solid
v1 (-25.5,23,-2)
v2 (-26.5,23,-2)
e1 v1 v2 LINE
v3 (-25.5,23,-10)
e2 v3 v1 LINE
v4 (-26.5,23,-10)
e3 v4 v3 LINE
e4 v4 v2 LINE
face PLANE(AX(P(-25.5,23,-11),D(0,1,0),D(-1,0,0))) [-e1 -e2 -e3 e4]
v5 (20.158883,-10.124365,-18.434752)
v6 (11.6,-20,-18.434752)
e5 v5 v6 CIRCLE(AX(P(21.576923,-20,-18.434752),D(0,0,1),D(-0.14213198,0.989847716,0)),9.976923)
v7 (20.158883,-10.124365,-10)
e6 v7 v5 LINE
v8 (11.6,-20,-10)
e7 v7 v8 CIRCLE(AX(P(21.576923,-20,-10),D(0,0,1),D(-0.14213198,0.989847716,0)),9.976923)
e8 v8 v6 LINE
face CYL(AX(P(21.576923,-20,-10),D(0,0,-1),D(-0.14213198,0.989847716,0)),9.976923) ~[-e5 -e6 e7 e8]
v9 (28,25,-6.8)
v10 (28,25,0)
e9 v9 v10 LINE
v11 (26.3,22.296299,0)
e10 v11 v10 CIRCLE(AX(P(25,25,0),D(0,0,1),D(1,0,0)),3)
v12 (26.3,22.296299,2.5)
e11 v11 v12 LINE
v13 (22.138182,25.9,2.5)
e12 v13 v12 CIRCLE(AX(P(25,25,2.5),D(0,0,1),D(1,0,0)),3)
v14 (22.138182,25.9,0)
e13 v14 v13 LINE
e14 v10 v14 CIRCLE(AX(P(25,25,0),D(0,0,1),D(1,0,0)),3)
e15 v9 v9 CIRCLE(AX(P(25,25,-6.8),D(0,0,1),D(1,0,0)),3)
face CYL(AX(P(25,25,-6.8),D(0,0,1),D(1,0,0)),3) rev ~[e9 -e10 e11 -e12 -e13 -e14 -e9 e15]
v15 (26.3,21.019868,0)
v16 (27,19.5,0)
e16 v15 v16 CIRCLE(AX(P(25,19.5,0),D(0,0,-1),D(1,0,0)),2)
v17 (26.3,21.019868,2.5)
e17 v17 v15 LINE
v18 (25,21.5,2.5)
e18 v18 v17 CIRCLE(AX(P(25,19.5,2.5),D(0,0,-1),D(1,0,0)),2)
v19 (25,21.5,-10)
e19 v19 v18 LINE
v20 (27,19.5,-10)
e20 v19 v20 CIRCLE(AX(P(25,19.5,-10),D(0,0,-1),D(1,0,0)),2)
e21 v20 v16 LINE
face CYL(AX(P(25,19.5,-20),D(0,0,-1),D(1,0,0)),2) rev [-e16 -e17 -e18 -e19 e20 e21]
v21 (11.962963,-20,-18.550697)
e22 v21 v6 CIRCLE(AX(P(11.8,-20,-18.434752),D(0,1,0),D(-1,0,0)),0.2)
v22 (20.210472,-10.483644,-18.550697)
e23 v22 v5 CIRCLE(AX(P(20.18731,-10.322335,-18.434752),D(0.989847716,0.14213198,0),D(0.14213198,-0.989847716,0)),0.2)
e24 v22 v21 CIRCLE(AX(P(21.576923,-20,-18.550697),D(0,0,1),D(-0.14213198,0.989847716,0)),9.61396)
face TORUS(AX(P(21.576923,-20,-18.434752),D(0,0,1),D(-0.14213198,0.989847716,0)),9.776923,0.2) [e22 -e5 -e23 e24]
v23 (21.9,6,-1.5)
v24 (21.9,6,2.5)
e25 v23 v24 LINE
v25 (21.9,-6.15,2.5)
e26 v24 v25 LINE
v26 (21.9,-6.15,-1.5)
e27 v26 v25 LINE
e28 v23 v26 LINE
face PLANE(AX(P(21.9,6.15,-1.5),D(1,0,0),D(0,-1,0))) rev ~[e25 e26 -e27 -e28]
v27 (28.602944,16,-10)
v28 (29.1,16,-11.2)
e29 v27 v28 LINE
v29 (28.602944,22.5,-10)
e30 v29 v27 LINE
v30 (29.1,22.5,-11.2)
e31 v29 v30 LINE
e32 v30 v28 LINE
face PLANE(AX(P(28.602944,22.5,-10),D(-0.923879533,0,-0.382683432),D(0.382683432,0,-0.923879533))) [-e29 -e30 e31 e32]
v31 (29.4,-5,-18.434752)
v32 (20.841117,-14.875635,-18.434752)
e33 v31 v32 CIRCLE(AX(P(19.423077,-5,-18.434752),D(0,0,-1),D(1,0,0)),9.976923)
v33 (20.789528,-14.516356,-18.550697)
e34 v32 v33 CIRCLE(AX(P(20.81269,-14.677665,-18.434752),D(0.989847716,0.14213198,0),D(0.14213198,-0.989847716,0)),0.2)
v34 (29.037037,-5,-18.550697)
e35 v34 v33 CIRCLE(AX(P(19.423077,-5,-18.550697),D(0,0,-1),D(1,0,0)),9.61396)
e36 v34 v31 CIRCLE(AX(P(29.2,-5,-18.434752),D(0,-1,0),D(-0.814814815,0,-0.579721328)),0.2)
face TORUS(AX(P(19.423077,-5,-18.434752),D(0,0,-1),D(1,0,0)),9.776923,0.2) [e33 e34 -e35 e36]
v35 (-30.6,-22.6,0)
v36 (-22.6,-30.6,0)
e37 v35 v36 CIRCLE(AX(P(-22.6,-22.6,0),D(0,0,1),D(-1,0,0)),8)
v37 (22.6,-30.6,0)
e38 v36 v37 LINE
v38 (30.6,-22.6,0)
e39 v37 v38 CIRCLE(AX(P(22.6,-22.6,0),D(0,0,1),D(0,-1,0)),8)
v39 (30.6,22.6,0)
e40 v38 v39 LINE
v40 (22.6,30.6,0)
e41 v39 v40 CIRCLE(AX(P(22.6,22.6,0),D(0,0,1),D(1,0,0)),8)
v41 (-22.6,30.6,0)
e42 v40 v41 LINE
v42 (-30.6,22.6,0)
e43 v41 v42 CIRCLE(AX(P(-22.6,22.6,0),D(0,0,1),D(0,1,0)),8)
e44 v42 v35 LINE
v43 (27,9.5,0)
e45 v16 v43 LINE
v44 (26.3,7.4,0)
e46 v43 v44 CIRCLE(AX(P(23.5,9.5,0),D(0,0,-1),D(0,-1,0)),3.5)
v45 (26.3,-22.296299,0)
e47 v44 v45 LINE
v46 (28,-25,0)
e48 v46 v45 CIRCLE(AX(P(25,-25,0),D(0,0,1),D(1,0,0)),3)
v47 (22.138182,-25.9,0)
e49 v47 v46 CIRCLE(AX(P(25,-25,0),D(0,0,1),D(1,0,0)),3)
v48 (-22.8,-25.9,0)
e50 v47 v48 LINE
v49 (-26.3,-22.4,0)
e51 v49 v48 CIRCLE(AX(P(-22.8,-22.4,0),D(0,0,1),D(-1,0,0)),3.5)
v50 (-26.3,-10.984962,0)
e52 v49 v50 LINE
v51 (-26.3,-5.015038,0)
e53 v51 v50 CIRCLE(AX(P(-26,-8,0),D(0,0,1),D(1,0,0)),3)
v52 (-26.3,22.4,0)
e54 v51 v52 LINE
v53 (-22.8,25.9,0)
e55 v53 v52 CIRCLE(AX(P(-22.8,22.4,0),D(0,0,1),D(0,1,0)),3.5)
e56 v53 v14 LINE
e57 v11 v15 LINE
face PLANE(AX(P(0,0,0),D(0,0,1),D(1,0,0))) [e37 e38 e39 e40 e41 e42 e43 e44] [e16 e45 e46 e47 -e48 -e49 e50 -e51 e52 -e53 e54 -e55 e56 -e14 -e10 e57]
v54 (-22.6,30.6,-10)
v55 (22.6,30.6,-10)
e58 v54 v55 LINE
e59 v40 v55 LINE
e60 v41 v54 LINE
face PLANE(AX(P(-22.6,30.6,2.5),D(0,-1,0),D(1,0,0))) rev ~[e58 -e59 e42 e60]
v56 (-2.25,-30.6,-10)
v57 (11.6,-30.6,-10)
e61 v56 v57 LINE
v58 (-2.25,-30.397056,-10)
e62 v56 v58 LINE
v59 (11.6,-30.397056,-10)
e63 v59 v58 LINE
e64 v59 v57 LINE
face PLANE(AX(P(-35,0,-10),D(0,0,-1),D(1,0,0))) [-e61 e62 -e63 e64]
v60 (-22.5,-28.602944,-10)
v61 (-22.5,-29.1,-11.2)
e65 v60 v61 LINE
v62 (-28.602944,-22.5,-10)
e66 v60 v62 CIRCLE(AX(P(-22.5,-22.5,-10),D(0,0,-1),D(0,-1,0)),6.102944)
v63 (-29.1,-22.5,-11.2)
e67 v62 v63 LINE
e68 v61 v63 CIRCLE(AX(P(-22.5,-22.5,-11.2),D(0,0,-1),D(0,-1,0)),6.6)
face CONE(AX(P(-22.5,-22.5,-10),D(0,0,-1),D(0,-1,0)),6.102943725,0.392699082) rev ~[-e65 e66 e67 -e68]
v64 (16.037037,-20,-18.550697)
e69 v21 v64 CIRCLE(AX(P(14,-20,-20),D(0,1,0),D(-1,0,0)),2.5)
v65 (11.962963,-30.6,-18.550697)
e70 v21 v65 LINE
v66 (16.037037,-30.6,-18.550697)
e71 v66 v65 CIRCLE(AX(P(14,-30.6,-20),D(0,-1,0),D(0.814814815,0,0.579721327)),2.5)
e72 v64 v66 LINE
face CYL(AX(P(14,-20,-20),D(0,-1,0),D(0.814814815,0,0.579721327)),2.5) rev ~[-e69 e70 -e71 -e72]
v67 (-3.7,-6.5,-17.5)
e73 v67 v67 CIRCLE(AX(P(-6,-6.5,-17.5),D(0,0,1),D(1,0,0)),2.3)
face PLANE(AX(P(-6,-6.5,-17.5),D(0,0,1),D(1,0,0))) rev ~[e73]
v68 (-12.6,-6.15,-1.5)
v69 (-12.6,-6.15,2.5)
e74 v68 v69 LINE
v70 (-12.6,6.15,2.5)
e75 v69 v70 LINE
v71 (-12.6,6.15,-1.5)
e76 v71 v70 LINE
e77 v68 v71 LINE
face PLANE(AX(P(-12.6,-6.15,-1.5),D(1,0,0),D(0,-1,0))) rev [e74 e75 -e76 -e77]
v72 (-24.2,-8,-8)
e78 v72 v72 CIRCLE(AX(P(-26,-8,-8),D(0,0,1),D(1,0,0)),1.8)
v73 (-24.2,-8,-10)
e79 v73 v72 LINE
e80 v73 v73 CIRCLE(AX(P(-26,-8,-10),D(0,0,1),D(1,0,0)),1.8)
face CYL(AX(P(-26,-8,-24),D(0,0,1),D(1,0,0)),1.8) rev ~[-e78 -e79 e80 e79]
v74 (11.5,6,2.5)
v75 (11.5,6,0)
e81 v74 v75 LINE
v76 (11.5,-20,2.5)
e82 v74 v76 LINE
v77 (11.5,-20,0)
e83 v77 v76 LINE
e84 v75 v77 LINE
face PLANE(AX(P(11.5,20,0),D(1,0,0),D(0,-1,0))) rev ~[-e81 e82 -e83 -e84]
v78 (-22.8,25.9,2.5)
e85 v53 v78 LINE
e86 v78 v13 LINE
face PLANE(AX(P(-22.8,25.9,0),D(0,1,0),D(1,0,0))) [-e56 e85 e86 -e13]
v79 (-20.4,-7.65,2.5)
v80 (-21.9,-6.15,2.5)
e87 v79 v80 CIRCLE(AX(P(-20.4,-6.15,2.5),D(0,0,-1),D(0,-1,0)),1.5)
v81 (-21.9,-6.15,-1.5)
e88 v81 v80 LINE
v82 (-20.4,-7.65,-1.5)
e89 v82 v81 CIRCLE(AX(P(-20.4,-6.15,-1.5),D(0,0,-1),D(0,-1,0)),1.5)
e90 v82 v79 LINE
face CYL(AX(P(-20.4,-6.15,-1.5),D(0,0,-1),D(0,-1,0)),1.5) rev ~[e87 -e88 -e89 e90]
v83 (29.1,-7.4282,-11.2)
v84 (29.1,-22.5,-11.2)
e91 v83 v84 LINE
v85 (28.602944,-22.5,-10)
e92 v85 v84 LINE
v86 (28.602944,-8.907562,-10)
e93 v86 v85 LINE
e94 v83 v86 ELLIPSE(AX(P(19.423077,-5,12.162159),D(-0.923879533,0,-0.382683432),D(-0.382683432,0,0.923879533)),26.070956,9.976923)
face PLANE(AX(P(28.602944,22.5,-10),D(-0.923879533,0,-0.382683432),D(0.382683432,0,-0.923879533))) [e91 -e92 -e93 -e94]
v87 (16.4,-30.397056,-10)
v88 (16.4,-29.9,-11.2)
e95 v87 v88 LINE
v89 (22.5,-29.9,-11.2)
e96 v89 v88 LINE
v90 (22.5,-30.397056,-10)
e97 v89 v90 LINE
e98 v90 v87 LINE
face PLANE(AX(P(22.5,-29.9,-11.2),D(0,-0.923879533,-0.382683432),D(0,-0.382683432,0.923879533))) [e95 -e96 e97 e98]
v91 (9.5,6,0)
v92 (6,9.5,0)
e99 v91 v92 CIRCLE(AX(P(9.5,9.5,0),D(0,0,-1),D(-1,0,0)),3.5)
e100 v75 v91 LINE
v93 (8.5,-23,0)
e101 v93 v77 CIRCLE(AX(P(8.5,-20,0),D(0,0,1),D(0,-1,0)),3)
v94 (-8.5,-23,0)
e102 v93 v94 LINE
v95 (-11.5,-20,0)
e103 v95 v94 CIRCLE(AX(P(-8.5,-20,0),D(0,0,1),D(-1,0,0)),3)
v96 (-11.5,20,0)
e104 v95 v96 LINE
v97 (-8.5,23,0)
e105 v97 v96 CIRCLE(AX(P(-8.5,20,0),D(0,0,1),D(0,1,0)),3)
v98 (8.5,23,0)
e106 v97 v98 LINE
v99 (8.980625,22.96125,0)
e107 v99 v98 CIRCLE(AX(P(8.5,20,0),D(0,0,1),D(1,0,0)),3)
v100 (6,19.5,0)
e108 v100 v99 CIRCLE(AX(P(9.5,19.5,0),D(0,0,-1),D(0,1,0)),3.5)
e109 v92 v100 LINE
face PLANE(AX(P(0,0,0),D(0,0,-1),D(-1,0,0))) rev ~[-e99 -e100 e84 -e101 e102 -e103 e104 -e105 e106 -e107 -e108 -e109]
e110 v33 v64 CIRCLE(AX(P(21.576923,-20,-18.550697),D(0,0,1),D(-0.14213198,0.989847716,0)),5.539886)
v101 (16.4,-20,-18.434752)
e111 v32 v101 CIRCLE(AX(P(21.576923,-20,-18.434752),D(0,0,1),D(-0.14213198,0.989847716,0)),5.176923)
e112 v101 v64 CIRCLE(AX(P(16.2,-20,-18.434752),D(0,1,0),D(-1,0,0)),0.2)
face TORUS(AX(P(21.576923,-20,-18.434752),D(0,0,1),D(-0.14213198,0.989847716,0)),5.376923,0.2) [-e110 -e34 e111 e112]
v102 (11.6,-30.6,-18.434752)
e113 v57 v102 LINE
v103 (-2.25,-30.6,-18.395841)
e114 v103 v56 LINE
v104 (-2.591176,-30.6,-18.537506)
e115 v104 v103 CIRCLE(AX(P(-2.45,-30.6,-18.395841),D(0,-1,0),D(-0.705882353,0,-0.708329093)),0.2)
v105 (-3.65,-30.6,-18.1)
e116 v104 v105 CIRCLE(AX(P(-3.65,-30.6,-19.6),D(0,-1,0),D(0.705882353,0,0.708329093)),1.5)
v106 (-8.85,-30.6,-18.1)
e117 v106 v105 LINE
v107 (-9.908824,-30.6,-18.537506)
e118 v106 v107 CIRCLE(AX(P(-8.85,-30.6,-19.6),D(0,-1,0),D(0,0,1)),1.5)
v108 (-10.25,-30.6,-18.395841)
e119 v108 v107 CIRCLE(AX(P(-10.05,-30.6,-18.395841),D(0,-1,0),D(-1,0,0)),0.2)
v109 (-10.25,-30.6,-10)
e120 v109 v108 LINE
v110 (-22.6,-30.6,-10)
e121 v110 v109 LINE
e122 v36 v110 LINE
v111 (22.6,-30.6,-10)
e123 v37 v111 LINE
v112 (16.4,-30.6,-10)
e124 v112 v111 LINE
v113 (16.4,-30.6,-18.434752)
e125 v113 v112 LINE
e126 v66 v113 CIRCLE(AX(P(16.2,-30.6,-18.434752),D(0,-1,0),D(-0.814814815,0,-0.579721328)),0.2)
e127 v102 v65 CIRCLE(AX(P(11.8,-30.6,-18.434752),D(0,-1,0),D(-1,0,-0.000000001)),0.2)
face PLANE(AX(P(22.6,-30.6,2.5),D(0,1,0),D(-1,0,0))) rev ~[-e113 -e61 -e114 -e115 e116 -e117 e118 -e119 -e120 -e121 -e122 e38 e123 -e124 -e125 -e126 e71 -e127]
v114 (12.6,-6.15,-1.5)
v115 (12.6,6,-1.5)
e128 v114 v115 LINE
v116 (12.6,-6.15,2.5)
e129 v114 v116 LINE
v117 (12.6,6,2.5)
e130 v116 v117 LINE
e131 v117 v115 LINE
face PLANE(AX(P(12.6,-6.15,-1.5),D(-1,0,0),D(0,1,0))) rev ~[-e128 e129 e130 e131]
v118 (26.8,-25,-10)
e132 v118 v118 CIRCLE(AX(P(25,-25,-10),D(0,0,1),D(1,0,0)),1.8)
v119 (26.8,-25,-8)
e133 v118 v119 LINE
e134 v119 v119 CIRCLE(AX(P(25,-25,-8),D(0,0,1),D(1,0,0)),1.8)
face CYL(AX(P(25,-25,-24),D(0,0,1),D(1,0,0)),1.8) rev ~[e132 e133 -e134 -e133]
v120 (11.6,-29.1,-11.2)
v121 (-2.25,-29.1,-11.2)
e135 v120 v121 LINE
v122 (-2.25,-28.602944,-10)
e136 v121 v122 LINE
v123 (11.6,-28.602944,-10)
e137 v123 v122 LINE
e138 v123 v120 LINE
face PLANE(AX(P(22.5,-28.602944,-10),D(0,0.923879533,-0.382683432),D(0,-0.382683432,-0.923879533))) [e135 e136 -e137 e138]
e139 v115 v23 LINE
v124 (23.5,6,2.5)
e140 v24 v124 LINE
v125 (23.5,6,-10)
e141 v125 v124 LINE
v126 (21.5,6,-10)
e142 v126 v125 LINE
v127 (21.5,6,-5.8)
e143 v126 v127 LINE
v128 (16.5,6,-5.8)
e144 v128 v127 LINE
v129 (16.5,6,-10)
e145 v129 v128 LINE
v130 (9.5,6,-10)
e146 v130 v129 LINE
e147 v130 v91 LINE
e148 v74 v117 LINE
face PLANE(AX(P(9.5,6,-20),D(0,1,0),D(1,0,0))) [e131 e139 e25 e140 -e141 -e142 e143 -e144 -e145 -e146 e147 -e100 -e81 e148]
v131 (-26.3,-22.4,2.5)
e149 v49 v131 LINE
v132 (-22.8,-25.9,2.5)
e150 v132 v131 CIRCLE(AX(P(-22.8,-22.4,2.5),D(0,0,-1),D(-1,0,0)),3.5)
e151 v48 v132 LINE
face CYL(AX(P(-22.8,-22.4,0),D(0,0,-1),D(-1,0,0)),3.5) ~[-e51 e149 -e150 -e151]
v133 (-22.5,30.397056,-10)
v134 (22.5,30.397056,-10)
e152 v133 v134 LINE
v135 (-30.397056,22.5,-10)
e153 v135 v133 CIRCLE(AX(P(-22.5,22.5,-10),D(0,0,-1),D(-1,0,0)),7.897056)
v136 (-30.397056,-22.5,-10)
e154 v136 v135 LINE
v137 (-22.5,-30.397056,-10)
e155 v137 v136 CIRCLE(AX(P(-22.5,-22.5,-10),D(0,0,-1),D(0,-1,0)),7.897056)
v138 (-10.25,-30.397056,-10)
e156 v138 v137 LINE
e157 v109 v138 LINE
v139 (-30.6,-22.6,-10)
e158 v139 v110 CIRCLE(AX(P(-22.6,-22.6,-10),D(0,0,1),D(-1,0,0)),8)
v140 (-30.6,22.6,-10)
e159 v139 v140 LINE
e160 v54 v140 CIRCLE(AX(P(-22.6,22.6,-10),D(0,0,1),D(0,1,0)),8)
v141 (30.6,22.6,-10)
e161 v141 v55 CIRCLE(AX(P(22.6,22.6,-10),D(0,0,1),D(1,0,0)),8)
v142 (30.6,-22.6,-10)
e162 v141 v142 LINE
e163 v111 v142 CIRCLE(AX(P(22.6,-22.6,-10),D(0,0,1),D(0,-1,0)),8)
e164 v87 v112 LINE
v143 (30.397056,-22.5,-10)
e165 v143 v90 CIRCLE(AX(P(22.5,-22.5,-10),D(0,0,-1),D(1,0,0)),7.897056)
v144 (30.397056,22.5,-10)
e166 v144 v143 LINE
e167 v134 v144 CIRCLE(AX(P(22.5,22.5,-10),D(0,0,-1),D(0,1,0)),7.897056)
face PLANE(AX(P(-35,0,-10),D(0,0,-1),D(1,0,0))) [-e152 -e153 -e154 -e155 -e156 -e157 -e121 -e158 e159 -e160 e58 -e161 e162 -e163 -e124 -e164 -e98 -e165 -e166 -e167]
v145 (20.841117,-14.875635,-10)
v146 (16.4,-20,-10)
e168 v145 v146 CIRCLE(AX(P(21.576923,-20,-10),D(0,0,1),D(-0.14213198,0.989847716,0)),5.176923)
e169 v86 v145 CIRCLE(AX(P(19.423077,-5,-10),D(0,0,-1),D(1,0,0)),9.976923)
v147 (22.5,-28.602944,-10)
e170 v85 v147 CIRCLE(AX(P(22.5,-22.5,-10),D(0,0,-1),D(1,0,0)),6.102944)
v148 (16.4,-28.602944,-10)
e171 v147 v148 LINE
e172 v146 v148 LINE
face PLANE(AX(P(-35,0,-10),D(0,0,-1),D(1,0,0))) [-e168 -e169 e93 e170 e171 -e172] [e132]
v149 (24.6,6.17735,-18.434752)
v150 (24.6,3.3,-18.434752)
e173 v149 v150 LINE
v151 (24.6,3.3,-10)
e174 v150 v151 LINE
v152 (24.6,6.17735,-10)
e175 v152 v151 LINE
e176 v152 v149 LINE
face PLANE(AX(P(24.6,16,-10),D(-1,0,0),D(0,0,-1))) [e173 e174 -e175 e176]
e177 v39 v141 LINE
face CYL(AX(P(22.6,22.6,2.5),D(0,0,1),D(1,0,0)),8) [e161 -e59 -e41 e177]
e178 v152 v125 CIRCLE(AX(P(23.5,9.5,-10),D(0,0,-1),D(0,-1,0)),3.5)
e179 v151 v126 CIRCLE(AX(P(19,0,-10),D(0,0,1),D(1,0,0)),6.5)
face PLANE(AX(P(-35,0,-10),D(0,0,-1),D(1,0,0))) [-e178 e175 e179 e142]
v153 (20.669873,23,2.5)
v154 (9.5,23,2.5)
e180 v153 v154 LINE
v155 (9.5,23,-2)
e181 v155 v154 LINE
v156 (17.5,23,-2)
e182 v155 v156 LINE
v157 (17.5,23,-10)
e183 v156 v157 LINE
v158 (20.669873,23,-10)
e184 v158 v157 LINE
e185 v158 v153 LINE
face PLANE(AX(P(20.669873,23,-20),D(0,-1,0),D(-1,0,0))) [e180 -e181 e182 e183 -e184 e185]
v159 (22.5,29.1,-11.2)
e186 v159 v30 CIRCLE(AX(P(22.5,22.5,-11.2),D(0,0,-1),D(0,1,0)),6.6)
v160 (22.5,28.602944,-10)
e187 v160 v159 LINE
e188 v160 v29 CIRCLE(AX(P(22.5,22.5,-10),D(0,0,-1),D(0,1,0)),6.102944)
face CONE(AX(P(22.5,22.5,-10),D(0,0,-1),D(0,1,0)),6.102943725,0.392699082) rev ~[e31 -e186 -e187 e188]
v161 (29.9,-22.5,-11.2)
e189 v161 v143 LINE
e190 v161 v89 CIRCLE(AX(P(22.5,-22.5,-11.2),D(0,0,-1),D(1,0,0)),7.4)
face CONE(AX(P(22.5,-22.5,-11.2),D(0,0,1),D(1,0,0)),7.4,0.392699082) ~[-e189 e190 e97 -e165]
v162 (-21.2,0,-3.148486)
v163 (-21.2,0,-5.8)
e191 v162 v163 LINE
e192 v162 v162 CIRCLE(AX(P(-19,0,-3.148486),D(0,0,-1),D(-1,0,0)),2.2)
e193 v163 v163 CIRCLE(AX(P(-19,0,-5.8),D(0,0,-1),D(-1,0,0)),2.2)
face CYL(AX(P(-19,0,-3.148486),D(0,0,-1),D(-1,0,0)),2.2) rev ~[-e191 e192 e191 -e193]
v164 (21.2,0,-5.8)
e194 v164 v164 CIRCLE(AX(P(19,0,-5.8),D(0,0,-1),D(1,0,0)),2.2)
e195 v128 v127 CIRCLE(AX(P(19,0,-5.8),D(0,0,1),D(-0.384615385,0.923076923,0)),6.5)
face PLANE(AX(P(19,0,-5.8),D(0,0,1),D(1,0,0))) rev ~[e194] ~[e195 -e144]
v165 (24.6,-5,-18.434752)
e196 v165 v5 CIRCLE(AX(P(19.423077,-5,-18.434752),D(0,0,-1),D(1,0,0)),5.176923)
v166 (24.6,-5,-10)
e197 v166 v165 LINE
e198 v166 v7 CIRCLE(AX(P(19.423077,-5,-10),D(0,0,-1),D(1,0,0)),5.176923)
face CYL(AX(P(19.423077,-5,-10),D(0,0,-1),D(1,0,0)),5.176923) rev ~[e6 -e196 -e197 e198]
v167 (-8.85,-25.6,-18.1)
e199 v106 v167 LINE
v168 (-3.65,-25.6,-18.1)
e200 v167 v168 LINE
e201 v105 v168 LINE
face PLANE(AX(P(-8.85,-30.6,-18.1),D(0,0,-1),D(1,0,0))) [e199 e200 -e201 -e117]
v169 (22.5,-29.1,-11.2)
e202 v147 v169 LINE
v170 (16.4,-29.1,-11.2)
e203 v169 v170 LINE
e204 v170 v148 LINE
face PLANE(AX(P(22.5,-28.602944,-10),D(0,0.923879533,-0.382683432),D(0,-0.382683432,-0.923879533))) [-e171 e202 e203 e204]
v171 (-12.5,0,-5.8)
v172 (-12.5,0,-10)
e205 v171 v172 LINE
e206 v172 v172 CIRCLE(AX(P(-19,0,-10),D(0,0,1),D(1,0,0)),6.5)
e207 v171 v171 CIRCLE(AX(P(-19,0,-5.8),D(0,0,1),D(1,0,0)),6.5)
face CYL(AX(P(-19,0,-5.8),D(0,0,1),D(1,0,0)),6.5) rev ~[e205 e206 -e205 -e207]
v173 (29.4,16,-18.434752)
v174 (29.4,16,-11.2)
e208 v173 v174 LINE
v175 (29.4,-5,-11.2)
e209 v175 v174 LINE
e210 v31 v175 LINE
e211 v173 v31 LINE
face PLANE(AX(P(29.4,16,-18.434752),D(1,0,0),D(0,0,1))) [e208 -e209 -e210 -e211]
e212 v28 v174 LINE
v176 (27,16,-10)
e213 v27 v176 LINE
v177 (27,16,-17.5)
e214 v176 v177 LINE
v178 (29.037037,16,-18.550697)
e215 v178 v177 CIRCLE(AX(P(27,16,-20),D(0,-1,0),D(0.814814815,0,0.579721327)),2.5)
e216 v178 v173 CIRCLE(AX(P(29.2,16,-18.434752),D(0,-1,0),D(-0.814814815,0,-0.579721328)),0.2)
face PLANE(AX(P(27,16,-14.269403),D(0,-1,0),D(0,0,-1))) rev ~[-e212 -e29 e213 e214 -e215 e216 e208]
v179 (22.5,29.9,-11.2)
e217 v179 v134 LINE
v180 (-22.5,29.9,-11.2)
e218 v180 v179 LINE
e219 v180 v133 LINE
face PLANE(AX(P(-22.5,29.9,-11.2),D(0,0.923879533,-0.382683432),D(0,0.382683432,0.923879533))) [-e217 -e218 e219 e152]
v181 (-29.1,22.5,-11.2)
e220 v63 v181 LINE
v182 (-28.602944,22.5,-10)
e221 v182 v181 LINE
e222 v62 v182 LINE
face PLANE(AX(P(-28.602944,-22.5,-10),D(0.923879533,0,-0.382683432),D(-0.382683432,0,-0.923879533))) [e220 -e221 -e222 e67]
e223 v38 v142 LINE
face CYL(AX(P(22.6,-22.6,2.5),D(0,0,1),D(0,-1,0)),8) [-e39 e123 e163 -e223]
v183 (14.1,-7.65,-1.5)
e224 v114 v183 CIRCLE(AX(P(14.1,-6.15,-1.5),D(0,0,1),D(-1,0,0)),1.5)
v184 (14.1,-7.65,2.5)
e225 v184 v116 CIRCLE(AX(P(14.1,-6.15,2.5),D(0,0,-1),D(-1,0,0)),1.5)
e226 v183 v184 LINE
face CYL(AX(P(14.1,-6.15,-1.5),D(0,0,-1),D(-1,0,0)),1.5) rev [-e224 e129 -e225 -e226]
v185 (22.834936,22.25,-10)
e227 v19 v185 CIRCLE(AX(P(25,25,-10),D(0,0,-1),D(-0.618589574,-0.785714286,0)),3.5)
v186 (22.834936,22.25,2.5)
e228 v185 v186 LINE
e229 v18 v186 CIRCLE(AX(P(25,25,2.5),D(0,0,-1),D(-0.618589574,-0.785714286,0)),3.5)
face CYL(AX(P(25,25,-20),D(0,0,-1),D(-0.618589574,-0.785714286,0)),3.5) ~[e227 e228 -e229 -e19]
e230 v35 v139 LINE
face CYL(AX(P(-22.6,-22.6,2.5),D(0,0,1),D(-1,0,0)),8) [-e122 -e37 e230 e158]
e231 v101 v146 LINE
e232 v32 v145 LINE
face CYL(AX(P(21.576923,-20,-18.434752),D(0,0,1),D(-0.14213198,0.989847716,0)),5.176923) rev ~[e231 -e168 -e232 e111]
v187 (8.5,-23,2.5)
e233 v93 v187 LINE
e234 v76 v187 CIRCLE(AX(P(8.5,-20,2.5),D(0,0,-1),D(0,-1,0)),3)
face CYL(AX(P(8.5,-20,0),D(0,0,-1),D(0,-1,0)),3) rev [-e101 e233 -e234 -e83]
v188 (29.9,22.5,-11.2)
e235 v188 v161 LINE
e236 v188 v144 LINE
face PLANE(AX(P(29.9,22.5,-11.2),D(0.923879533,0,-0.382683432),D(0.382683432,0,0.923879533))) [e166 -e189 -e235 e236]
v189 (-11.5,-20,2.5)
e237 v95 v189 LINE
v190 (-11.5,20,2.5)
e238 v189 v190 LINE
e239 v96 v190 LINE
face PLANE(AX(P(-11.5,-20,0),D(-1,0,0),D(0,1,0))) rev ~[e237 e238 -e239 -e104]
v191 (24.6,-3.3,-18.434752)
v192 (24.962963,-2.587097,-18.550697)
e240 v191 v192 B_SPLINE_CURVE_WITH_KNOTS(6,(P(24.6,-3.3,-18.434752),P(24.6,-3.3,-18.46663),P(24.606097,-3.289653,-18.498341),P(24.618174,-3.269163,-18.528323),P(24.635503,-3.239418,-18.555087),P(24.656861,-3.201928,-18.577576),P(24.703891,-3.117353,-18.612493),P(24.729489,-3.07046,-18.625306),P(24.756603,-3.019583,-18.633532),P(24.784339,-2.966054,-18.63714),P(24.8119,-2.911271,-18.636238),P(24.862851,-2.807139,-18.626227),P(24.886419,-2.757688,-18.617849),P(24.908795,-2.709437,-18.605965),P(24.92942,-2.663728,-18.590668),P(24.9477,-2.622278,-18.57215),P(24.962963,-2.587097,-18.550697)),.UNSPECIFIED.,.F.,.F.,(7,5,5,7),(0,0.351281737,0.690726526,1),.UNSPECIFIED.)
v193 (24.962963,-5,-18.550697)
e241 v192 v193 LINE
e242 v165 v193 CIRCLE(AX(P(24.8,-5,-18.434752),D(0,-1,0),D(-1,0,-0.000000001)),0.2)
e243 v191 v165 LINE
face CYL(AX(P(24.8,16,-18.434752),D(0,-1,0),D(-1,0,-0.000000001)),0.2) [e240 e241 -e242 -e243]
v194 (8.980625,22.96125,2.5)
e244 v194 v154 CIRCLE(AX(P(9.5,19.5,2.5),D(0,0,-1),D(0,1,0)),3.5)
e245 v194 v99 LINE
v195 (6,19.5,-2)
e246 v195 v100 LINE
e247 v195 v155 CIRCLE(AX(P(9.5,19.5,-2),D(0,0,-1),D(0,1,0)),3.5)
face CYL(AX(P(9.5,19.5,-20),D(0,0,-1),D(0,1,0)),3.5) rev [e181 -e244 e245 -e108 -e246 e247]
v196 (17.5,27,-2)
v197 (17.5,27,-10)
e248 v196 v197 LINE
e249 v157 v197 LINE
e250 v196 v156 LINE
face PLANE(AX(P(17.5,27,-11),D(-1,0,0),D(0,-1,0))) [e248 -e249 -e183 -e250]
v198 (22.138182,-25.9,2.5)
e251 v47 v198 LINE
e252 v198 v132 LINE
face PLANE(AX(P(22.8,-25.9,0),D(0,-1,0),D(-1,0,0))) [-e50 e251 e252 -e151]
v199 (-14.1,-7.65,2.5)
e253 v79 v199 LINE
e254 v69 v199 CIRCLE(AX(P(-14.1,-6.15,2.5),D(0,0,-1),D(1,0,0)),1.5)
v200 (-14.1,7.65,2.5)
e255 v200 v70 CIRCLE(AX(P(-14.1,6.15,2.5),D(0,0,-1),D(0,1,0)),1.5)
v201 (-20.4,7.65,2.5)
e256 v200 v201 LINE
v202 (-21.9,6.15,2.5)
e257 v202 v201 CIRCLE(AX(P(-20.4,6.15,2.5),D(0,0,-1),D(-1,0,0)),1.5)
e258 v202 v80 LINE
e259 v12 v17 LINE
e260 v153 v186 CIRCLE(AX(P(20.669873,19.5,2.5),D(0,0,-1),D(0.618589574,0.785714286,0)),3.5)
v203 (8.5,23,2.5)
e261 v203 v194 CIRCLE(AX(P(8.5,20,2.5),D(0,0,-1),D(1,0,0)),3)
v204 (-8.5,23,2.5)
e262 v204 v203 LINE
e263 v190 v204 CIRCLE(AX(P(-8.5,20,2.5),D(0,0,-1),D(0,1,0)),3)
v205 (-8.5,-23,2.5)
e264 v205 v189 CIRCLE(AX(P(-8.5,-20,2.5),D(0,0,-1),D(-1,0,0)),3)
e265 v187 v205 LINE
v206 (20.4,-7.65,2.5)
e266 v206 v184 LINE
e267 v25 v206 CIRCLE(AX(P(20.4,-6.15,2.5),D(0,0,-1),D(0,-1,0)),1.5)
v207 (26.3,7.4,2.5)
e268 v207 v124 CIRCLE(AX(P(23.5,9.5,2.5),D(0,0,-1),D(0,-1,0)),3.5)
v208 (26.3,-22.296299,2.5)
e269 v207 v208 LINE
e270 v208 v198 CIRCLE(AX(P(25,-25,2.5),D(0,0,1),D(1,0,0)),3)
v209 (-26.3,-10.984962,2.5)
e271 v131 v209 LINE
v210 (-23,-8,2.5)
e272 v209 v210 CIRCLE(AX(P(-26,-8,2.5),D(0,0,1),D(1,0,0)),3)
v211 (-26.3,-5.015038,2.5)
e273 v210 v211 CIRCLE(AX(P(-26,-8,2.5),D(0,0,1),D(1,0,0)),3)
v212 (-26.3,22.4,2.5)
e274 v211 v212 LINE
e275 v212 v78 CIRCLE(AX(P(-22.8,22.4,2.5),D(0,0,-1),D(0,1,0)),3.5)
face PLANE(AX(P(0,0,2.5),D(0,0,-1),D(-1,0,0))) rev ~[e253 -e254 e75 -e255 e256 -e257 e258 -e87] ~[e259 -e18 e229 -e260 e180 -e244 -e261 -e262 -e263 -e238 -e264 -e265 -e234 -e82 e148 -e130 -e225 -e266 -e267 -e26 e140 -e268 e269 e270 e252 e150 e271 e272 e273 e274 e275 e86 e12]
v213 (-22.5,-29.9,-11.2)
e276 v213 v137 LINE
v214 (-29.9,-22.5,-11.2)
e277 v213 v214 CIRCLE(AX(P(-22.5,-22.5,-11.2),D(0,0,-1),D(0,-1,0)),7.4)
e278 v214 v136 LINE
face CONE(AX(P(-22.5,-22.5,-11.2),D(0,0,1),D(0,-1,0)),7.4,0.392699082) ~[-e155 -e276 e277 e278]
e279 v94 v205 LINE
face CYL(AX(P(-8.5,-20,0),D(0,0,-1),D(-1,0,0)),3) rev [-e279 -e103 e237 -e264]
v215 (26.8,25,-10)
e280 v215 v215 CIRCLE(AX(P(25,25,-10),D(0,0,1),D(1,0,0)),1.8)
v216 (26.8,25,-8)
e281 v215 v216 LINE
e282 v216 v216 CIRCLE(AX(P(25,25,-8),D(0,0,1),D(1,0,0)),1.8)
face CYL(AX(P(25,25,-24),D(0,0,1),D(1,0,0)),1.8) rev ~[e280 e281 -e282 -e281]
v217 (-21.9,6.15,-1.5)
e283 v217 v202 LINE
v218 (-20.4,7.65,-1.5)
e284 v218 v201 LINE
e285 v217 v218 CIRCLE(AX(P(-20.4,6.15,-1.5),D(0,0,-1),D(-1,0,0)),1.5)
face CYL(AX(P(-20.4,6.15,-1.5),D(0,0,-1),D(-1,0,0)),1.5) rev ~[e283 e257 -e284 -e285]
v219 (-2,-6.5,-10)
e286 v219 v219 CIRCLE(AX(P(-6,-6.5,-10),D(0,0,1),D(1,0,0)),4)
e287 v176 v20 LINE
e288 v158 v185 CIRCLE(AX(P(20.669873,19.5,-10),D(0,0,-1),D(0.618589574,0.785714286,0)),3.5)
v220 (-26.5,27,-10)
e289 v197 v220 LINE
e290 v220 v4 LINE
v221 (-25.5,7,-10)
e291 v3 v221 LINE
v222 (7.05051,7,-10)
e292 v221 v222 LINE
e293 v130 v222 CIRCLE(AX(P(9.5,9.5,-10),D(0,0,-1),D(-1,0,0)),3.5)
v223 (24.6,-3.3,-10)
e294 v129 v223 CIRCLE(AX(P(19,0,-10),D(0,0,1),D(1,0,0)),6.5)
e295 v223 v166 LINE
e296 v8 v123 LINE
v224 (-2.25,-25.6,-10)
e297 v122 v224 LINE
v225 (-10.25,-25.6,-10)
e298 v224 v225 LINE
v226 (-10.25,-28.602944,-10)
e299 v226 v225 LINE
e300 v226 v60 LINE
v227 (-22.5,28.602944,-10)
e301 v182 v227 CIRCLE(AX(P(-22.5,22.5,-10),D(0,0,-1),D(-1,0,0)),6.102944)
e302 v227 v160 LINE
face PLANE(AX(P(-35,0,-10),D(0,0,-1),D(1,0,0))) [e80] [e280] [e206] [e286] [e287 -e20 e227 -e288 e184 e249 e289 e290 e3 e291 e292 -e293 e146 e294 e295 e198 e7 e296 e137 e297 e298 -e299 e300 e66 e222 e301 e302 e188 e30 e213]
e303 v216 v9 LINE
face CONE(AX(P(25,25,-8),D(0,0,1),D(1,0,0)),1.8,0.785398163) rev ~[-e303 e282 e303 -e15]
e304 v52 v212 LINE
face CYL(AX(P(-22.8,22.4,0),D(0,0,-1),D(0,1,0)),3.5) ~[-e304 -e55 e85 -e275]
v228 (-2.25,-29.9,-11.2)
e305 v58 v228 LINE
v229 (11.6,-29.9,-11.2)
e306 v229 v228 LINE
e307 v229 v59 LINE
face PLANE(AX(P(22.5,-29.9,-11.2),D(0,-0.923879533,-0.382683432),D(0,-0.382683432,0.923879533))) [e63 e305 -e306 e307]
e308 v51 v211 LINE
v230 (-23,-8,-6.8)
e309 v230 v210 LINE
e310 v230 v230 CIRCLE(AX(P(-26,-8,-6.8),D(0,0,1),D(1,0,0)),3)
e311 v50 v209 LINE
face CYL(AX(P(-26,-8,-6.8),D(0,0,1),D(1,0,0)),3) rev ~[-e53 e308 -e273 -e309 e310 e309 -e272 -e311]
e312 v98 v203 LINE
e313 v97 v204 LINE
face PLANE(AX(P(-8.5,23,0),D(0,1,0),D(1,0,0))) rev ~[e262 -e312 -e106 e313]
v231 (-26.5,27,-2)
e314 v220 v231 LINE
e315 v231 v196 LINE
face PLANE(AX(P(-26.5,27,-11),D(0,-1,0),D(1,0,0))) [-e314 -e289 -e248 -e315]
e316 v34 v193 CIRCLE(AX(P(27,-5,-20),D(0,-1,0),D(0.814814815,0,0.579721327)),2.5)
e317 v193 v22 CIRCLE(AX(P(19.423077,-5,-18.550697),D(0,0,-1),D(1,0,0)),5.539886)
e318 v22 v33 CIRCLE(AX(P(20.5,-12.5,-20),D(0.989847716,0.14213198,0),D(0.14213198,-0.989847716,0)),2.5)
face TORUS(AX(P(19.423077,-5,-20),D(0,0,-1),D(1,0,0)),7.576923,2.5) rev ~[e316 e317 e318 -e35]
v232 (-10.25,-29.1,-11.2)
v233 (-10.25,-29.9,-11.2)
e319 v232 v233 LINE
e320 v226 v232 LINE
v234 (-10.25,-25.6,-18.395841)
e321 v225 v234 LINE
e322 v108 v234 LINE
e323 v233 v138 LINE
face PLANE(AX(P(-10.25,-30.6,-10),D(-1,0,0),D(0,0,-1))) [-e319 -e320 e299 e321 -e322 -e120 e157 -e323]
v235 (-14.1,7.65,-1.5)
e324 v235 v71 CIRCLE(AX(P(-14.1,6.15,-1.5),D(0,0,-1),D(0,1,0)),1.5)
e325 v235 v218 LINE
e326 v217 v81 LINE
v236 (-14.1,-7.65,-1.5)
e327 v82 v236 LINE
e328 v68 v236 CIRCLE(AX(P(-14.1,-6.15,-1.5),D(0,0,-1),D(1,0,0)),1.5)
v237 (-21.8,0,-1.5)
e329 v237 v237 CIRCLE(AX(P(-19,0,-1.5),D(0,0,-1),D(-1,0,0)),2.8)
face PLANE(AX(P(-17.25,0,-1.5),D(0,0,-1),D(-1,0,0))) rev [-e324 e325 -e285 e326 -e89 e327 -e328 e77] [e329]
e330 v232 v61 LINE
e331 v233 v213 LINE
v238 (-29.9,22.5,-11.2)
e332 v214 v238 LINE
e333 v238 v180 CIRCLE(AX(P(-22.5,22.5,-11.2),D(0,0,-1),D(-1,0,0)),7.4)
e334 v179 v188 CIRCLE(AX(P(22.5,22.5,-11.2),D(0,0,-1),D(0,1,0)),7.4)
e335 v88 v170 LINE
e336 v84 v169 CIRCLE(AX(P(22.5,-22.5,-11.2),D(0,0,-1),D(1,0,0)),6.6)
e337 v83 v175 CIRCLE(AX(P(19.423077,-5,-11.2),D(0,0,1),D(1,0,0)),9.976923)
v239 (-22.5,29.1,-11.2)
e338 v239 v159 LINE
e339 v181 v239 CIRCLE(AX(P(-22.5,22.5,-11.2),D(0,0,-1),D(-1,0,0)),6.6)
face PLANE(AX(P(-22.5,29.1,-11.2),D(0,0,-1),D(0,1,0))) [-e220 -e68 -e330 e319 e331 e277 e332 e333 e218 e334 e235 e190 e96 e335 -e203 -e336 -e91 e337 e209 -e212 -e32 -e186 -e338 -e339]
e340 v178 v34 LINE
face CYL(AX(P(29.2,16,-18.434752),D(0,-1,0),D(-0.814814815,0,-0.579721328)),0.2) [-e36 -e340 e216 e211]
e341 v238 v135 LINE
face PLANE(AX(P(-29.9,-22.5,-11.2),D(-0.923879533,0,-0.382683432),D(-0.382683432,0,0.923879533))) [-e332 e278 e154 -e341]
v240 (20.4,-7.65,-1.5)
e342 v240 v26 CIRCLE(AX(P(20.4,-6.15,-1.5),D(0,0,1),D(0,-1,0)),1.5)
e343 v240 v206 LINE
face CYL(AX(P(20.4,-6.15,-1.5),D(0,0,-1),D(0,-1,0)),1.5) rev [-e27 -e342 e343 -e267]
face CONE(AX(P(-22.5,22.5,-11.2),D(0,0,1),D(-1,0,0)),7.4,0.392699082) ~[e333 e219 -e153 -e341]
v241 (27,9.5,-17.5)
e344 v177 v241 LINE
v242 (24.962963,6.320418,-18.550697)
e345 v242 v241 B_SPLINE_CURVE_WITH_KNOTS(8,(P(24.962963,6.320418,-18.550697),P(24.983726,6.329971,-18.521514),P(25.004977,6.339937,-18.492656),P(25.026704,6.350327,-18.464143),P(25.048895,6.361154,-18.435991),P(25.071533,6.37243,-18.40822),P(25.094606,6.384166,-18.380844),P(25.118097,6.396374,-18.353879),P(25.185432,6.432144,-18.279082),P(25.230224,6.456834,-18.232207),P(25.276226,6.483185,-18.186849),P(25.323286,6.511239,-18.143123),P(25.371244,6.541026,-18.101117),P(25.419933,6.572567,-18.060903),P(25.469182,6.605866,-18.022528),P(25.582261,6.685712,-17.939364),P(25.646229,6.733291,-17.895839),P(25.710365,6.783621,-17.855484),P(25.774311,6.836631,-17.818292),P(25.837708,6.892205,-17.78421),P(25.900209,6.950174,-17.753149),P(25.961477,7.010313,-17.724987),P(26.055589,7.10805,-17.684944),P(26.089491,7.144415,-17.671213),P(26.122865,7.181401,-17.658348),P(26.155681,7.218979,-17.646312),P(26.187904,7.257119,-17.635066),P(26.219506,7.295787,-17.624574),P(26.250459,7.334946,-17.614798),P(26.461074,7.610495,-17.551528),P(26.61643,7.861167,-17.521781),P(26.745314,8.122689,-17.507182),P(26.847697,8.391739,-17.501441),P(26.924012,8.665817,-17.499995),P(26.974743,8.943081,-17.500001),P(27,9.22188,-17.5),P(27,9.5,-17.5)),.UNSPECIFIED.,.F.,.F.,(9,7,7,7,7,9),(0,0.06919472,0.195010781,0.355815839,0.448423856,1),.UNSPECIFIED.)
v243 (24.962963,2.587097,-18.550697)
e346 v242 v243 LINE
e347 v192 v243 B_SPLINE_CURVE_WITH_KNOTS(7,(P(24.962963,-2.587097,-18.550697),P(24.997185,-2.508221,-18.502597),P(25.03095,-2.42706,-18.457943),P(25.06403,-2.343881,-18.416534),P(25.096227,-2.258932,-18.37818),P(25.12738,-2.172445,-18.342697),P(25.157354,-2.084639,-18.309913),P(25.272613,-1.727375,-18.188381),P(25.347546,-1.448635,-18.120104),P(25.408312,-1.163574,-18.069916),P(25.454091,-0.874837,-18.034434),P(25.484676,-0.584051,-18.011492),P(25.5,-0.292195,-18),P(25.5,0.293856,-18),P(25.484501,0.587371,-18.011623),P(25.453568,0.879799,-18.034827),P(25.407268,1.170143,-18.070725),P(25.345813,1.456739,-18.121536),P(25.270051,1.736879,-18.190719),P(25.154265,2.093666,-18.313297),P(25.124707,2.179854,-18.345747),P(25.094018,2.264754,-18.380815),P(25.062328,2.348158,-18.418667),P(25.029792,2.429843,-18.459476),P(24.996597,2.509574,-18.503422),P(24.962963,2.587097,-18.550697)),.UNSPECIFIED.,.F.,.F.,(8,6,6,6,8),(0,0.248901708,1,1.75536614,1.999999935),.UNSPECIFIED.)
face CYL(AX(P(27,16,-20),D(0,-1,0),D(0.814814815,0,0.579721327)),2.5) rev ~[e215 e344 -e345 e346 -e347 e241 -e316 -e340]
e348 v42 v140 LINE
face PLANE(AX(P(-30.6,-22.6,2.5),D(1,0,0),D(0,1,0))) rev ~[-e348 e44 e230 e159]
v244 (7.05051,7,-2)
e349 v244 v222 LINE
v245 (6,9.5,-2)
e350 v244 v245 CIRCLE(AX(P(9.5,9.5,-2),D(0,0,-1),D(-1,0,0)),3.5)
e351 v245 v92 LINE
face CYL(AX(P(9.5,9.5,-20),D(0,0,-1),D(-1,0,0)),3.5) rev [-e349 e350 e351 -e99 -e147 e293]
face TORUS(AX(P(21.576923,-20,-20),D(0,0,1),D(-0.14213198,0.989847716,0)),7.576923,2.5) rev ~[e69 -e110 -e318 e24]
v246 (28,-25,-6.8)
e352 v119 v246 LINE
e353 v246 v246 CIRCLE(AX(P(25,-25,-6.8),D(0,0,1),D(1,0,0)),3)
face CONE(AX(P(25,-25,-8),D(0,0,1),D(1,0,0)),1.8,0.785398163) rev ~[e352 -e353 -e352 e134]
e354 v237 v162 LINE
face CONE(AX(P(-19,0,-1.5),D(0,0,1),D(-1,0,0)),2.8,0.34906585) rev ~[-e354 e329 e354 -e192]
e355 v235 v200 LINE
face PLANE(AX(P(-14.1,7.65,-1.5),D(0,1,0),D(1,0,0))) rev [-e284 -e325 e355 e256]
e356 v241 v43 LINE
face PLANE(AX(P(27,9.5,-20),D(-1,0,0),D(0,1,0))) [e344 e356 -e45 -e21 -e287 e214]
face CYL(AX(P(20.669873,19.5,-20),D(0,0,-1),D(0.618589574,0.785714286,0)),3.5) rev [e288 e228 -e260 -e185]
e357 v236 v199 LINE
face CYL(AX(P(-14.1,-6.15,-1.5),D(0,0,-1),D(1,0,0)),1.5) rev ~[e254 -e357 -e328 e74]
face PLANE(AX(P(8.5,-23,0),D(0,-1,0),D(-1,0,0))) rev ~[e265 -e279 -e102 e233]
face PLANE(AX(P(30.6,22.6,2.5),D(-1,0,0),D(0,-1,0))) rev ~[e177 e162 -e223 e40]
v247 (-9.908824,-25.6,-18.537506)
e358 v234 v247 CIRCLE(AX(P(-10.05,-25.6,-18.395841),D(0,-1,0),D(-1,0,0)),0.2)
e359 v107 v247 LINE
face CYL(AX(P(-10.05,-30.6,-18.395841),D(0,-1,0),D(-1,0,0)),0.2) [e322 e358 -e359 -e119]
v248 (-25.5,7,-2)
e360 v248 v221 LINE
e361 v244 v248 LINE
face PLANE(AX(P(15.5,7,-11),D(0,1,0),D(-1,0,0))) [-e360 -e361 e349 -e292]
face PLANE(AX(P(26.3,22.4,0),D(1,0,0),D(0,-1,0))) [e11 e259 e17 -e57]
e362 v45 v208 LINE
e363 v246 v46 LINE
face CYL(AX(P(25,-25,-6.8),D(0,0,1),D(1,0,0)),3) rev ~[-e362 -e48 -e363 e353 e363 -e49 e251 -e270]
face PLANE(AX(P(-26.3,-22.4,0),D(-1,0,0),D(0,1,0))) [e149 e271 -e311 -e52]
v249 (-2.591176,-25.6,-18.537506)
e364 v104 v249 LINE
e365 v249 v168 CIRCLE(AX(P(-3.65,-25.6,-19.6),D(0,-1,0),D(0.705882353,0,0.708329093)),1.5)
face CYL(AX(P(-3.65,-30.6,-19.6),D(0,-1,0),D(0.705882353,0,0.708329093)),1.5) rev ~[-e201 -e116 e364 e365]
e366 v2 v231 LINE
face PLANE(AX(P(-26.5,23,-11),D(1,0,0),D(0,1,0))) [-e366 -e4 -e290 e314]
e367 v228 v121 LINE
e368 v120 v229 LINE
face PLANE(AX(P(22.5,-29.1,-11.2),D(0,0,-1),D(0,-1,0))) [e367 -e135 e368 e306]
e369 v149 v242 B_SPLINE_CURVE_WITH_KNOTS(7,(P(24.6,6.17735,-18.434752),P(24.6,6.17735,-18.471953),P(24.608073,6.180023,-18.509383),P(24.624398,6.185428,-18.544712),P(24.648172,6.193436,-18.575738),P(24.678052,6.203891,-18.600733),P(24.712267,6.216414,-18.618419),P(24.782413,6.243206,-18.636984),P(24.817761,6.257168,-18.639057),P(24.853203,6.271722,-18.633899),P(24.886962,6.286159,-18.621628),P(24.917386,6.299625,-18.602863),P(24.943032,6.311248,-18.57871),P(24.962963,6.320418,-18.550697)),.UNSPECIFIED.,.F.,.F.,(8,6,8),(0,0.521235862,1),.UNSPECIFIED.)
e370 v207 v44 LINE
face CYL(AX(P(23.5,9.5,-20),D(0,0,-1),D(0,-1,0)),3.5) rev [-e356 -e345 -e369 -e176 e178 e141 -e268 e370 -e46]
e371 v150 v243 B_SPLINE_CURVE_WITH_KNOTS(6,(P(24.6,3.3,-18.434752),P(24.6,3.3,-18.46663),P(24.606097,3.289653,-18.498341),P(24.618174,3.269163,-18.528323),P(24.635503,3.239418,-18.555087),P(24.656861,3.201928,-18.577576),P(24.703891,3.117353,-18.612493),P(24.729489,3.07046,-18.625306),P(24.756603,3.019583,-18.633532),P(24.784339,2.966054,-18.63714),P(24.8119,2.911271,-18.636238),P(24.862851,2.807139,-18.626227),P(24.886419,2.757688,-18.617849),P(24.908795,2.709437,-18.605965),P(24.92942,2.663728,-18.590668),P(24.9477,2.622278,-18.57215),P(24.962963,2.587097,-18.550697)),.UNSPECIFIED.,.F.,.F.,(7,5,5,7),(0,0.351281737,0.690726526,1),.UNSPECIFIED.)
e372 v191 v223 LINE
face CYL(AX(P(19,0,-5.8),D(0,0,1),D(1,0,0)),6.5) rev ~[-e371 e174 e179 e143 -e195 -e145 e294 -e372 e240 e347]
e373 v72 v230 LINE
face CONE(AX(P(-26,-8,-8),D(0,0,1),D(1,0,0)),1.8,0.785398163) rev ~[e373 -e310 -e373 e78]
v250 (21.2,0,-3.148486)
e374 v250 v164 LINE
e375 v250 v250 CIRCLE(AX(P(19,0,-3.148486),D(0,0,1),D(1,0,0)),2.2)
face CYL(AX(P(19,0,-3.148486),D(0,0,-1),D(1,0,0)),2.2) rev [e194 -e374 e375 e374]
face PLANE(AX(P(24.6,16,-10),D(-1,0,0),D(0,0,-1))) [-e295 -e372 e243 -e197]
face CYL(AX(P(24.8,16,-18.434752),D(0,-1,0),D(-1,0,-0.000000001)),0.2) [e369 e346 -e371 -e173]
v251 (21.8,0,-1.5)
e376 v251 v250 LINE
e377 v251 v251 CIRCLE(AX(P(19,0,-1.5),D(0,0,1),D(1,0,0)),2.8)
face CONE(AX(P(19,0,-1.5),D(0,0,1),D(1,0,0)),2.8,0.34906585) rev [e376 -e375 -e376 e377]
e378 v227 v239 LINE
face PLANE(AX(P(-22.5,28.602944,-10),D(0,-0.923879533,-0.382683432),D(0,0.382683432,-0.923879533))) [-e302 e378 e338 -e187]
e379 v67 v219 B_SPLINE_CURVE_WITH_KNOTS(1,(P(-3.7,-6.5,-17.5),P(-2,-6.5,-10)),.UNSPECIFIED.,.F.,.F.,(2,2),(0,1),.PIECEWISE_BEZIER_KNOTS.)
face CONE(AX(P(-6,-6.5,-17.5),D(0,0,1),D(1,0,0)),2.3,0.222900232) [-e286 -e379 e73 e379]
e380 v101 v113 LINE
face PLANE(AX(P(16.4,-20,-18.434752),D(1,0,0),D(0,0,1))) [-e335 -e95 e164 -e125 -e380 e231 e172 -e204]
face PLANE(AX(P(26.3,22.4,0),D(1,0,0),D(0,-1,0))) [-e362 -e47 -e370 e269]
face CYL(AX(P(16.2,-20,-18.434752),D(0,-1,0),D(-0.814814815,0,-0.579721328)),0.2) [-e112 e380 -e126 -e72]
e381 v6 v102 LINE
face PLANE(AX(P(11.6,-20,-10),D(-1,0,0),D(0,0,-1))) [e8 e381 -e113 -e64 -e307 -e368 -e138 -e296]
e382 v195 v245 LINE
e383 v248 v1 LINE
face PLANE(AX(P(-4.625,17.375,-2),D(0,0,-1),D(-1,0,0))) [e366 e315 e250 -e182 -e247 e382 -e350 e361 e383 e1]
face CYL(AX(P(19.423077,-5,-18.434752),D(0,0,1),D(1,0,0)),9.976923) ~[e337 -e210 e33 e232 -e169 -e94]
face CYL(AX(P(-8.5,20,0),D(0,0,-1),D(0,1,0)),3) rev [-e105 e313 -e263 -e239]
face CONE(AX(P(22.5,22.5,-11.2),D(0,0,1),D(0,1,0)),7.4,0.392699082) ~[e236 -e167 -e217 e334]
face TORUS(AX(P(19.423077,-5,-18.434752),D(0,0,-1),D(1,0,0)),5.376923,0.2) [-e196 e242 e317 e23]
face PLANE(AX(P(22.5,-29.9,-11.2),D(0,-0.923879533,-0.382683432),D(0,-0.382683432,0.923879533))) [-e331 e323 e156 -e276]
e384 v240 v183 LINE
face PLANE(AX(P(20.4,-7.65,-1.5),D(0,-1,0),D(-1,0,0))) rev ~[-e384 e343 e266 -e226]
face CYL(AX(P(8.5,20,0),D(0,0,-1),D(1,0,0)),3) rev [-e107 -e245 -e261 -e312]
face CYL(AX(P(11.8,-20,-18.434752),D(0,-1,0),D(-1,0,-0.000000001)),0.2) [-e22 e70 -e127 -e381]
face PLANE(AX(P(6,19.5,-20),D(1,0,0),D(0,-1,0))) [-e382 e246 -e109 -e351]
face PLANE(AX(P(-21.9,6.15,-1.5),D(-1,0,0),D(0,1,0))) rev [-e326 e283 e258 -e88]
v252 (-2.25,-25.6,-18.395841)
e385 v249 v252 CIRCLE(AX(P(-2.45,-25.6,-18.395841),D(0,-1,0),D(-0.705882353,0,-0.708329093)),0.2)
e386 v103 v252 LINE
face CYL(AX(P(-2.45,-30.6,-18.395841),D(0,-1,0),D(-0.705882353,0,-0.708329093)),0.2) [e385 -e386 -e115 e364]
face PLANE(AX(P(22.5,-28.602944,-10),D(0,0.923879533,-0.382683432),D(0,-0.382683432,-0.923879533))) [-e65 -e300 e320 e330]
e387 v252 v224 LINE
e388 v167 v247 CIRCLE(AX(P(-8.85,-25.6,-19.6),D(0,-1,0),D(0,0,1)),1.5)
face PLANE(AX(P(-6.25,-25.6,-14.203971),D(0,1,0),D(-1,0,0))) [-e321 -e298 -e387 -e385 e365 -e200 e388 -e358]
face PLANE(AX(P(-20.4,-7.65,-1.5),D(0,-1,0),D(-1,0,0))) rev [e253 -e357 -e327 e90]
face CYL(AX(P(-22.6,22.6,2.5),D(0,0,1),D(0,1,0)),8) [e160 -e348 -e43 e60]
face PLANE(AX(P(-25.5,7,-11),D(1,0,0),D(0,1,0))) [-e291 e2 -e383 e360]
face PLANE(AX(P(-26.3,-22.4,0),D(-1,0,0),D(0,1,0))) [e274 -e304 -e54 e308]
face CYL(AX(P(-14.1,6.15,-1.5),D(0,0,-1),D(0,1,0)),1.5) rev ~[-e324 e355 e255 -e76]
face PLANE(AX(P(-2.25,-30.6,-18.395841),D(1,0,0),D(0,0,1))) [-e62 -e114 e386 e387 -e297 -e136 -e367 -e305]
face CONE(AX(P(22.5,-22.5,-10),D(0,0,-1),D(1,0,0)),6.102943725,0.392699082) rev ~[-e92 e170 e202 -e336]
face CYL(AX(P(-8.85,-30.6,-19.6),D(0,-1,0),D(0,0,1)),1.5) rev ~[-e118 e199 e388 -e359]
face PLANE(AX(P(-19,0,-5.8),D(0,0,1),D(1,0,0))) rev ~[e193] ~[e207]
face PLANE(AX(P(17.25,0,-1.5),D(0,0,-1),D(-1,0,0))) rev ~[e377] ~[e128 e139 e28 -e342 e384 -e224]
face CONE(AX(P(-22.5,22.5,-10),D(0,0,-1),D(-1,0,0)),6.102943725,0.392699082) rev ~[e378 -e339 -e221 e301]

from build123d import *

# Parameters (mm, degrees)
PAD016_DEPTH         = 27.5
POCKET034_DEPTH      = 185.6284208373
SKETCH105_W          = 70
SKETCH105_H          = 70
POCKET036_DEPTH      = 2.501
SKETCH114_W          = 70
SKETCH114_H          = 16
POCKET051_DEPTH      = 30.601
POCKET051_DEPTH_BACK = 30.601
PAD020_DEPTH         = 5
SKETCH134_R          = 2.3
SKETCH135_R          = 4
POCKET052_DEPTH      = 9
POCKET053_DEPTH      = 0.001
POCKET053_DEPTH_BACK = 22.501
SKETCH138_R          = 6.5
POCKET054_DEPTH      = 12.8357525158
POCKET056_DEPTH      = 2.5010001


with BuildPart() as part:
    # Sketch096 → Pad016 (new body)
    with BuildSketch(Plane.XY.offset(2.5)):
        with BuildLine():
            Line((-22.6, 30.6), (22.6, 30.6))
            ThreePointArc((30.6, 22.6), (28.2568542495, 28.2568542495), (22.6, 30.6))
            Line((30.6, 22.6), (30.6, -22.6))
            ThreePointArc((22.6, -30.6), (28.2568542495, -28.2568542495), (30.6, -22.6))
            Line((22.6, -30.6), (-22.6, -30.6))
            ThreePointArc((-30.6, -22.6), (-28.2568542495, -28.2568542495), (-22.6, -30.6))
            Line((-30.6, -22.6), (-30.6, 22.6))
            ThreePointArc((-22.6, 30.6), (-28.2568542495, 28.2568542495), (-30.6, 22.6))
        make_face()
    extrude(amount=-PAD016_DEPTH)

    # Sketch103 → Pocket034 (cut, through all)
    with BuildSketch(Plane.XY.offset(-1.5)):
        with BuildLine():
            Line((14.1, 7.65), (20.4, 7.65))
            ThreePointArc((21.9, 6.15), (21.4606601718, 7.2106601718), (20.4, 7.65))
            Line((21.9, 6.15), (21.9, -6.15))
            ThreePointArc((20.4, -7.65), (21.4606601718, -7.2106601718), (21.9, -6.15))
            Line((20.4, -7.65), (14.1, -7.65))
            ThreePointArc((12.6, -6.15), (13.0393398282, -7.2106601718), (14.1, -7.65))
            Line((12.6, -6.15), (12.6, 6.15))
            ThreePointArc((14.1, 7.65), (13.0393398282, 7.2106601718), (12.6, 6.15))
        make_face()
    pocket034 = extrude(amount=POCKET034_DEPTH, mode=Mode.SUBTRACT)

    # Mirrored008: Pocket034 across YZ
    add(pocket034.mirror(Plane.YZ), mode=Mode.SUBTRACT)

    # Sketch105 → Pocket036 (cut, through all)
    with BuildSketch(Plane.XY):
        Rectangle(SKETCH105_W, SKETCH105_H)
        with BuildLine():
            Line((-22.8, 25.9), (22.8, 25.9))
            ThreePointArc((26.3, 22.4), (25.2748737342, 24.8748737342), (22.8, 25.9))
            Line((26.3, 22.4), (26.3, -22.4))
            ThreePointArc((22.8, -25.9), (25.2748737342, -24.8748737342), (26.3, -22.4))
            Line((22.8, -25.9), (-22.8, -25.9))
            ThreePointArc((-26.3, -22.4), (-25.2748737342, -24.8748737342), (-22.8, -25.9))
            Line((-26.3, -22.4), (-26.3, 22.4))
            ThreePointArc((-22.8, 25.9), (-25.2748737342, 24.8748737342), (-26.3, 22.4))
        make_face(mode=Mode.SUBTRACT)
    extrude(amount=POCKET036_DEPTH, mode=Mode.SUBTRACT)

    # Sketch107 → Groove012 (revolve, cut)
    with BuildSketch(Plane.XZ):
        Polygon((19, -1.5), (21.8, -1.5), (21.2, -3.1484864517), (21.2, -13.5), (19, -13.5), align=None)
    groove012 = revolve(axis=Axis((19, 0, -1.5), (0, 0, 1)), mode=Mode.SUBTRACT)

    # Mirrored009: Groove012 across YZ
    add(groove012.mirror(Plane.YZ), mode=Mode.SUBTRACT)

    # Sketch114 → Pocket051 (cut, two sides)
    with BuildSketch(Plane.XZ) as pocket051_sk:
        with Locations((0, -18)):
            Rectangle(SKETCH114_W, SKETCH114_H)
    extrude(amount=-POCKET051_DEPTH, mode=Mode.SUBTRACT)
    extrude(pocket051_sk.sketch, amount=POCKET051_DEPTH_BACK, mode=Mode.SUBTRACT)

    # AdditivePipe004: sweep along a path in Sketch130
    with BuildLine(Plane.XY) as additivepipe004_path:
        Line((27, 16), (27, -5))
        ThreePointArc((27, -5), (25.1488749734, -9.9623583103), (20.5, -12.5))
        ThreePointArc((20.5, -12.5), (15.8511250266, -15.0376416897), (14, -20))
        Line((14, -20), (14, -30.6))
    # Sketch131 → AdditivePipe004 (sweep)
    with BuildSketch(Plane.XZ):
        with BuildLine():
            ThreePointArc((29.037037037, -18.5506966813), (27, -17.5), (24.962962963, -18.5506966813))
            ThreePointArc((24.6, -18.4347524158), (24.7391419381, -18.6252682846), (24.962962963, -18.5506966813))
            Line((24.6, -10), (24.6, -18.4347524158))
            Line((29.4, -10), (24.6, -10))
            Line((29.4, -18.4347524157), (29.4, -10))
            ThreePointArc((29.037037037, -18.5506966812), (29.2608580619, -18.6252682846), (29.4, -18.4347524157))
        make_face()
    sweep(path=additivepipe004_path.line)

    # Sketch110 → Pad020 (join)
    with BuildSketch(Plane.XZ.offset(30.6)):
        with BuildLine():
            ThreePointArc((-8.85, -18.1), (-9.4228261259, -18.2136846573), (-9.9088235294, -18.5375063607))
            ThreePointArc((-10.25, -18.3958405421), (-10.1266964989, -18.5805501712), (-9.9088235294, -18.5375063607))
            Line((-10.25, -10), (-10.25, -18.3958405421))
            Line((-2.25, -10), (-10.25, -10))
            Line((-2.25, -18.3958405421), (-2.25, -10))
            ThreePointArc((-2.5911764706, -18.5375063607), (-2.3733035011, -18.5805501712), (-2.25, -18.3958405421))
            ThreePointArc((-2.5911764706, -18.5375063607), (-3.0771738741, -18.2136846573), (-3.65, -18.1))
            Line((-8.85, -18.1), (-3.65, -18.1))
        make_face()
    extrude(amount=-PAD020_DEPTH)

    # Sketch134 → AdditiveLoft section 0
    with BuildSketch(Plane.XY.offset(-17.5)):
        with Locations((-6, -6.5)):
            Circle(SKETCH134_R)
    # Sketch135 → AdditiveLoft section 1
    with BuildSketch(Plane.XY.offset(-10)):
        with Locations((-6, -6.5)):
            Circle(SKETCH135_R)
    loft()

    # AdditivePipe005: sweep along a path in Sketch136
    with BuildLine(Plane.XY) as additivepipe005_path:
        Line((-22.5, 29.5), (22.5, 29.5))
        ThreePointArc((22.5, 29.5), (27.4497474683, 27.4497474683), (29.5, 22.5))
        Line((29.5, 22.5), (29.5, -22.5))
        ThreePointArc((29.5, -22.5), (27.4497474683, -27.4497474683), (22.5, -29.5))
        Line((22.5, -29.5), (-22.5, -29.5))
        ThreePointArc((-22.5, -29.5), (-27.4497474683, -27.4497474683), (-29.5, -22.5))
        Line((-29.5, -22.5), (-29.5, 22.5))
        ThreePointArc((-29.5, 22.5), (-27.4497474683, 27.4497474683), (-22.5, 29.5))
    # Sketch137 → AdditivePipe005 (sweep)
    with BuildSketch(Plane.YZ):
        Polygon((30.3970562748, -10), (28.6029437252, -10), (29.1, -11.2), (29.9, -11.2), align=None)
    sweep(path=additivepipe005_path.line)

    # Sketch104 → Pocket052 (cut, symmetric)
    with BuildSketch(Plane.XY.offset(-11)):
        Polygon((-26.5, 27), (17.5, 27), (17.5, 23), (15.5, 23), (15.5, 7), (-25.5, 7), (-25.5, 23), (-26.5, 23), align=None)
    extrude(amount=POCKET052_DEPTH, both=True, mode=Mode.SUBTRACT)

    # Sketch099 → Groove018 (revolve, cut)
    with BuildSketch(Plane.XZ.offset(8)):
        Polygon((-26, 3), (-26, -24), (-24.2, -24), (-24.2, -8), (-23, -6.8), (-23, 3), align=None)
    revolve(axis=Axis((-26, -8, 3), (0, 0, 1)), mode=Mode.SUBTRACT)

    # Sketch100 → Groove019 (revolve, cut)
    with BuildSketch(Plane.XZ.offset(25)):
        Polygon((25, 3), (25, -24), (26.8, -24), (26.8, -8), (28, -6.8), (28, 3), align=None)
    revolve(axis=Axis((25, -25, 3), (0, 0, 1)), mode=Mode.SUBTRACT)

    # Sketch101 → Groove020 (revolve, cut)
    with BuildSketch(Plane.XZ.offset(-25)):
        Polygon((25, 3), (25, -24), (26.8, -24), (26.8, -8), (28, -6.8), (28, 3), align=None)
    revolve(axis=Axis((25, 25, 3), (0, 0, 1)), mode=Mode.SUBTRACT)

    # Sketch113 → Pocket053 (cut, two sides)
    with BuildSketch(Plane.XY.offset(-20)) as pocket053_sk:
        with BuildLine():
            ThreePointArc((22.8349364905, 22.25), (23.8543560763, 21.6928108612), (25, 21.5))
            ThreePointArc((27, 19.5), (26.4142135624, 20.9142135624), (25, 21.5))
            Line((27, 9.5), (27, 19.5))
            ThreePointArc((23.5, 6), (25.9748737342, 7.0251262658), (27, 9.5))
            Line((9.5, 6), (23.5, 6))
            ThreePointArc((6, 9.5), (7.0251262658, 7.0251262658), (9.5, 6))
            Line((6, 19.5), (6, 9.5))
            ThreePointArc((9.5, 23), (7.0251262658, 21.9748737342), (6, 19.5))
            Line((20.6698729811, 23), (9.5, 23))
            ThreePointArc((22.8349364905, 22.25), (21.8155169048, 22.8071891388), (20.6698729811, 23))
        make_face()
    extrude(amount=-POCKET053_DEPTH, mode=Mode.SUBTRACT)
    extrude(pocket053_sk.sketch, amount=POCKET053_DEPTH_BACK, mode=Mode.SUBTRACT)

    # Sketch138 → Pocket054 (cut, through all)
    with BuildSketch(Plane.XY.offset(-5.8)):
        with Locations((19, 0)):
            Circle(SKETCH138_R)
        with Locations((-19, 0)):
            Circle(SKETCH138_R)
    extrude(amount=-POCKET054_DEPTH, mode=Mode.SUBTRACT)

    # Sketch144 → Pocket056 (cut, through all)
    with BuildSketch(Plane.XY):
        with BuildLine():
            Line((-8.5, 23), (8.5, 23))
            ThreePointArc((11.5, 20), (10.6213203436, 22.1213203436), (8.5, 23))
            Line((11.5, 20), (11.5, -20))
            ThreePointArc((8.5, -23), (10.6213203436, -22.1213203436), (11.5, -20))
            Line((8.5, -23), (-8.5, -23))
            ThreePointArc((-11.5, -20), (-10.6213203436, -22.1213203436), (-8.5, -23))
            Line((-11.5, -20), (-11.5, 20))
            ThreePointArc((-8.5, 23), (-10.6213203436, 22.1213203436), (-11.5, 20))
        make_face()
    extrude(amount=POCKET056_DEPTH, mode=Mode.SUBTRACT)


solid = part.part
